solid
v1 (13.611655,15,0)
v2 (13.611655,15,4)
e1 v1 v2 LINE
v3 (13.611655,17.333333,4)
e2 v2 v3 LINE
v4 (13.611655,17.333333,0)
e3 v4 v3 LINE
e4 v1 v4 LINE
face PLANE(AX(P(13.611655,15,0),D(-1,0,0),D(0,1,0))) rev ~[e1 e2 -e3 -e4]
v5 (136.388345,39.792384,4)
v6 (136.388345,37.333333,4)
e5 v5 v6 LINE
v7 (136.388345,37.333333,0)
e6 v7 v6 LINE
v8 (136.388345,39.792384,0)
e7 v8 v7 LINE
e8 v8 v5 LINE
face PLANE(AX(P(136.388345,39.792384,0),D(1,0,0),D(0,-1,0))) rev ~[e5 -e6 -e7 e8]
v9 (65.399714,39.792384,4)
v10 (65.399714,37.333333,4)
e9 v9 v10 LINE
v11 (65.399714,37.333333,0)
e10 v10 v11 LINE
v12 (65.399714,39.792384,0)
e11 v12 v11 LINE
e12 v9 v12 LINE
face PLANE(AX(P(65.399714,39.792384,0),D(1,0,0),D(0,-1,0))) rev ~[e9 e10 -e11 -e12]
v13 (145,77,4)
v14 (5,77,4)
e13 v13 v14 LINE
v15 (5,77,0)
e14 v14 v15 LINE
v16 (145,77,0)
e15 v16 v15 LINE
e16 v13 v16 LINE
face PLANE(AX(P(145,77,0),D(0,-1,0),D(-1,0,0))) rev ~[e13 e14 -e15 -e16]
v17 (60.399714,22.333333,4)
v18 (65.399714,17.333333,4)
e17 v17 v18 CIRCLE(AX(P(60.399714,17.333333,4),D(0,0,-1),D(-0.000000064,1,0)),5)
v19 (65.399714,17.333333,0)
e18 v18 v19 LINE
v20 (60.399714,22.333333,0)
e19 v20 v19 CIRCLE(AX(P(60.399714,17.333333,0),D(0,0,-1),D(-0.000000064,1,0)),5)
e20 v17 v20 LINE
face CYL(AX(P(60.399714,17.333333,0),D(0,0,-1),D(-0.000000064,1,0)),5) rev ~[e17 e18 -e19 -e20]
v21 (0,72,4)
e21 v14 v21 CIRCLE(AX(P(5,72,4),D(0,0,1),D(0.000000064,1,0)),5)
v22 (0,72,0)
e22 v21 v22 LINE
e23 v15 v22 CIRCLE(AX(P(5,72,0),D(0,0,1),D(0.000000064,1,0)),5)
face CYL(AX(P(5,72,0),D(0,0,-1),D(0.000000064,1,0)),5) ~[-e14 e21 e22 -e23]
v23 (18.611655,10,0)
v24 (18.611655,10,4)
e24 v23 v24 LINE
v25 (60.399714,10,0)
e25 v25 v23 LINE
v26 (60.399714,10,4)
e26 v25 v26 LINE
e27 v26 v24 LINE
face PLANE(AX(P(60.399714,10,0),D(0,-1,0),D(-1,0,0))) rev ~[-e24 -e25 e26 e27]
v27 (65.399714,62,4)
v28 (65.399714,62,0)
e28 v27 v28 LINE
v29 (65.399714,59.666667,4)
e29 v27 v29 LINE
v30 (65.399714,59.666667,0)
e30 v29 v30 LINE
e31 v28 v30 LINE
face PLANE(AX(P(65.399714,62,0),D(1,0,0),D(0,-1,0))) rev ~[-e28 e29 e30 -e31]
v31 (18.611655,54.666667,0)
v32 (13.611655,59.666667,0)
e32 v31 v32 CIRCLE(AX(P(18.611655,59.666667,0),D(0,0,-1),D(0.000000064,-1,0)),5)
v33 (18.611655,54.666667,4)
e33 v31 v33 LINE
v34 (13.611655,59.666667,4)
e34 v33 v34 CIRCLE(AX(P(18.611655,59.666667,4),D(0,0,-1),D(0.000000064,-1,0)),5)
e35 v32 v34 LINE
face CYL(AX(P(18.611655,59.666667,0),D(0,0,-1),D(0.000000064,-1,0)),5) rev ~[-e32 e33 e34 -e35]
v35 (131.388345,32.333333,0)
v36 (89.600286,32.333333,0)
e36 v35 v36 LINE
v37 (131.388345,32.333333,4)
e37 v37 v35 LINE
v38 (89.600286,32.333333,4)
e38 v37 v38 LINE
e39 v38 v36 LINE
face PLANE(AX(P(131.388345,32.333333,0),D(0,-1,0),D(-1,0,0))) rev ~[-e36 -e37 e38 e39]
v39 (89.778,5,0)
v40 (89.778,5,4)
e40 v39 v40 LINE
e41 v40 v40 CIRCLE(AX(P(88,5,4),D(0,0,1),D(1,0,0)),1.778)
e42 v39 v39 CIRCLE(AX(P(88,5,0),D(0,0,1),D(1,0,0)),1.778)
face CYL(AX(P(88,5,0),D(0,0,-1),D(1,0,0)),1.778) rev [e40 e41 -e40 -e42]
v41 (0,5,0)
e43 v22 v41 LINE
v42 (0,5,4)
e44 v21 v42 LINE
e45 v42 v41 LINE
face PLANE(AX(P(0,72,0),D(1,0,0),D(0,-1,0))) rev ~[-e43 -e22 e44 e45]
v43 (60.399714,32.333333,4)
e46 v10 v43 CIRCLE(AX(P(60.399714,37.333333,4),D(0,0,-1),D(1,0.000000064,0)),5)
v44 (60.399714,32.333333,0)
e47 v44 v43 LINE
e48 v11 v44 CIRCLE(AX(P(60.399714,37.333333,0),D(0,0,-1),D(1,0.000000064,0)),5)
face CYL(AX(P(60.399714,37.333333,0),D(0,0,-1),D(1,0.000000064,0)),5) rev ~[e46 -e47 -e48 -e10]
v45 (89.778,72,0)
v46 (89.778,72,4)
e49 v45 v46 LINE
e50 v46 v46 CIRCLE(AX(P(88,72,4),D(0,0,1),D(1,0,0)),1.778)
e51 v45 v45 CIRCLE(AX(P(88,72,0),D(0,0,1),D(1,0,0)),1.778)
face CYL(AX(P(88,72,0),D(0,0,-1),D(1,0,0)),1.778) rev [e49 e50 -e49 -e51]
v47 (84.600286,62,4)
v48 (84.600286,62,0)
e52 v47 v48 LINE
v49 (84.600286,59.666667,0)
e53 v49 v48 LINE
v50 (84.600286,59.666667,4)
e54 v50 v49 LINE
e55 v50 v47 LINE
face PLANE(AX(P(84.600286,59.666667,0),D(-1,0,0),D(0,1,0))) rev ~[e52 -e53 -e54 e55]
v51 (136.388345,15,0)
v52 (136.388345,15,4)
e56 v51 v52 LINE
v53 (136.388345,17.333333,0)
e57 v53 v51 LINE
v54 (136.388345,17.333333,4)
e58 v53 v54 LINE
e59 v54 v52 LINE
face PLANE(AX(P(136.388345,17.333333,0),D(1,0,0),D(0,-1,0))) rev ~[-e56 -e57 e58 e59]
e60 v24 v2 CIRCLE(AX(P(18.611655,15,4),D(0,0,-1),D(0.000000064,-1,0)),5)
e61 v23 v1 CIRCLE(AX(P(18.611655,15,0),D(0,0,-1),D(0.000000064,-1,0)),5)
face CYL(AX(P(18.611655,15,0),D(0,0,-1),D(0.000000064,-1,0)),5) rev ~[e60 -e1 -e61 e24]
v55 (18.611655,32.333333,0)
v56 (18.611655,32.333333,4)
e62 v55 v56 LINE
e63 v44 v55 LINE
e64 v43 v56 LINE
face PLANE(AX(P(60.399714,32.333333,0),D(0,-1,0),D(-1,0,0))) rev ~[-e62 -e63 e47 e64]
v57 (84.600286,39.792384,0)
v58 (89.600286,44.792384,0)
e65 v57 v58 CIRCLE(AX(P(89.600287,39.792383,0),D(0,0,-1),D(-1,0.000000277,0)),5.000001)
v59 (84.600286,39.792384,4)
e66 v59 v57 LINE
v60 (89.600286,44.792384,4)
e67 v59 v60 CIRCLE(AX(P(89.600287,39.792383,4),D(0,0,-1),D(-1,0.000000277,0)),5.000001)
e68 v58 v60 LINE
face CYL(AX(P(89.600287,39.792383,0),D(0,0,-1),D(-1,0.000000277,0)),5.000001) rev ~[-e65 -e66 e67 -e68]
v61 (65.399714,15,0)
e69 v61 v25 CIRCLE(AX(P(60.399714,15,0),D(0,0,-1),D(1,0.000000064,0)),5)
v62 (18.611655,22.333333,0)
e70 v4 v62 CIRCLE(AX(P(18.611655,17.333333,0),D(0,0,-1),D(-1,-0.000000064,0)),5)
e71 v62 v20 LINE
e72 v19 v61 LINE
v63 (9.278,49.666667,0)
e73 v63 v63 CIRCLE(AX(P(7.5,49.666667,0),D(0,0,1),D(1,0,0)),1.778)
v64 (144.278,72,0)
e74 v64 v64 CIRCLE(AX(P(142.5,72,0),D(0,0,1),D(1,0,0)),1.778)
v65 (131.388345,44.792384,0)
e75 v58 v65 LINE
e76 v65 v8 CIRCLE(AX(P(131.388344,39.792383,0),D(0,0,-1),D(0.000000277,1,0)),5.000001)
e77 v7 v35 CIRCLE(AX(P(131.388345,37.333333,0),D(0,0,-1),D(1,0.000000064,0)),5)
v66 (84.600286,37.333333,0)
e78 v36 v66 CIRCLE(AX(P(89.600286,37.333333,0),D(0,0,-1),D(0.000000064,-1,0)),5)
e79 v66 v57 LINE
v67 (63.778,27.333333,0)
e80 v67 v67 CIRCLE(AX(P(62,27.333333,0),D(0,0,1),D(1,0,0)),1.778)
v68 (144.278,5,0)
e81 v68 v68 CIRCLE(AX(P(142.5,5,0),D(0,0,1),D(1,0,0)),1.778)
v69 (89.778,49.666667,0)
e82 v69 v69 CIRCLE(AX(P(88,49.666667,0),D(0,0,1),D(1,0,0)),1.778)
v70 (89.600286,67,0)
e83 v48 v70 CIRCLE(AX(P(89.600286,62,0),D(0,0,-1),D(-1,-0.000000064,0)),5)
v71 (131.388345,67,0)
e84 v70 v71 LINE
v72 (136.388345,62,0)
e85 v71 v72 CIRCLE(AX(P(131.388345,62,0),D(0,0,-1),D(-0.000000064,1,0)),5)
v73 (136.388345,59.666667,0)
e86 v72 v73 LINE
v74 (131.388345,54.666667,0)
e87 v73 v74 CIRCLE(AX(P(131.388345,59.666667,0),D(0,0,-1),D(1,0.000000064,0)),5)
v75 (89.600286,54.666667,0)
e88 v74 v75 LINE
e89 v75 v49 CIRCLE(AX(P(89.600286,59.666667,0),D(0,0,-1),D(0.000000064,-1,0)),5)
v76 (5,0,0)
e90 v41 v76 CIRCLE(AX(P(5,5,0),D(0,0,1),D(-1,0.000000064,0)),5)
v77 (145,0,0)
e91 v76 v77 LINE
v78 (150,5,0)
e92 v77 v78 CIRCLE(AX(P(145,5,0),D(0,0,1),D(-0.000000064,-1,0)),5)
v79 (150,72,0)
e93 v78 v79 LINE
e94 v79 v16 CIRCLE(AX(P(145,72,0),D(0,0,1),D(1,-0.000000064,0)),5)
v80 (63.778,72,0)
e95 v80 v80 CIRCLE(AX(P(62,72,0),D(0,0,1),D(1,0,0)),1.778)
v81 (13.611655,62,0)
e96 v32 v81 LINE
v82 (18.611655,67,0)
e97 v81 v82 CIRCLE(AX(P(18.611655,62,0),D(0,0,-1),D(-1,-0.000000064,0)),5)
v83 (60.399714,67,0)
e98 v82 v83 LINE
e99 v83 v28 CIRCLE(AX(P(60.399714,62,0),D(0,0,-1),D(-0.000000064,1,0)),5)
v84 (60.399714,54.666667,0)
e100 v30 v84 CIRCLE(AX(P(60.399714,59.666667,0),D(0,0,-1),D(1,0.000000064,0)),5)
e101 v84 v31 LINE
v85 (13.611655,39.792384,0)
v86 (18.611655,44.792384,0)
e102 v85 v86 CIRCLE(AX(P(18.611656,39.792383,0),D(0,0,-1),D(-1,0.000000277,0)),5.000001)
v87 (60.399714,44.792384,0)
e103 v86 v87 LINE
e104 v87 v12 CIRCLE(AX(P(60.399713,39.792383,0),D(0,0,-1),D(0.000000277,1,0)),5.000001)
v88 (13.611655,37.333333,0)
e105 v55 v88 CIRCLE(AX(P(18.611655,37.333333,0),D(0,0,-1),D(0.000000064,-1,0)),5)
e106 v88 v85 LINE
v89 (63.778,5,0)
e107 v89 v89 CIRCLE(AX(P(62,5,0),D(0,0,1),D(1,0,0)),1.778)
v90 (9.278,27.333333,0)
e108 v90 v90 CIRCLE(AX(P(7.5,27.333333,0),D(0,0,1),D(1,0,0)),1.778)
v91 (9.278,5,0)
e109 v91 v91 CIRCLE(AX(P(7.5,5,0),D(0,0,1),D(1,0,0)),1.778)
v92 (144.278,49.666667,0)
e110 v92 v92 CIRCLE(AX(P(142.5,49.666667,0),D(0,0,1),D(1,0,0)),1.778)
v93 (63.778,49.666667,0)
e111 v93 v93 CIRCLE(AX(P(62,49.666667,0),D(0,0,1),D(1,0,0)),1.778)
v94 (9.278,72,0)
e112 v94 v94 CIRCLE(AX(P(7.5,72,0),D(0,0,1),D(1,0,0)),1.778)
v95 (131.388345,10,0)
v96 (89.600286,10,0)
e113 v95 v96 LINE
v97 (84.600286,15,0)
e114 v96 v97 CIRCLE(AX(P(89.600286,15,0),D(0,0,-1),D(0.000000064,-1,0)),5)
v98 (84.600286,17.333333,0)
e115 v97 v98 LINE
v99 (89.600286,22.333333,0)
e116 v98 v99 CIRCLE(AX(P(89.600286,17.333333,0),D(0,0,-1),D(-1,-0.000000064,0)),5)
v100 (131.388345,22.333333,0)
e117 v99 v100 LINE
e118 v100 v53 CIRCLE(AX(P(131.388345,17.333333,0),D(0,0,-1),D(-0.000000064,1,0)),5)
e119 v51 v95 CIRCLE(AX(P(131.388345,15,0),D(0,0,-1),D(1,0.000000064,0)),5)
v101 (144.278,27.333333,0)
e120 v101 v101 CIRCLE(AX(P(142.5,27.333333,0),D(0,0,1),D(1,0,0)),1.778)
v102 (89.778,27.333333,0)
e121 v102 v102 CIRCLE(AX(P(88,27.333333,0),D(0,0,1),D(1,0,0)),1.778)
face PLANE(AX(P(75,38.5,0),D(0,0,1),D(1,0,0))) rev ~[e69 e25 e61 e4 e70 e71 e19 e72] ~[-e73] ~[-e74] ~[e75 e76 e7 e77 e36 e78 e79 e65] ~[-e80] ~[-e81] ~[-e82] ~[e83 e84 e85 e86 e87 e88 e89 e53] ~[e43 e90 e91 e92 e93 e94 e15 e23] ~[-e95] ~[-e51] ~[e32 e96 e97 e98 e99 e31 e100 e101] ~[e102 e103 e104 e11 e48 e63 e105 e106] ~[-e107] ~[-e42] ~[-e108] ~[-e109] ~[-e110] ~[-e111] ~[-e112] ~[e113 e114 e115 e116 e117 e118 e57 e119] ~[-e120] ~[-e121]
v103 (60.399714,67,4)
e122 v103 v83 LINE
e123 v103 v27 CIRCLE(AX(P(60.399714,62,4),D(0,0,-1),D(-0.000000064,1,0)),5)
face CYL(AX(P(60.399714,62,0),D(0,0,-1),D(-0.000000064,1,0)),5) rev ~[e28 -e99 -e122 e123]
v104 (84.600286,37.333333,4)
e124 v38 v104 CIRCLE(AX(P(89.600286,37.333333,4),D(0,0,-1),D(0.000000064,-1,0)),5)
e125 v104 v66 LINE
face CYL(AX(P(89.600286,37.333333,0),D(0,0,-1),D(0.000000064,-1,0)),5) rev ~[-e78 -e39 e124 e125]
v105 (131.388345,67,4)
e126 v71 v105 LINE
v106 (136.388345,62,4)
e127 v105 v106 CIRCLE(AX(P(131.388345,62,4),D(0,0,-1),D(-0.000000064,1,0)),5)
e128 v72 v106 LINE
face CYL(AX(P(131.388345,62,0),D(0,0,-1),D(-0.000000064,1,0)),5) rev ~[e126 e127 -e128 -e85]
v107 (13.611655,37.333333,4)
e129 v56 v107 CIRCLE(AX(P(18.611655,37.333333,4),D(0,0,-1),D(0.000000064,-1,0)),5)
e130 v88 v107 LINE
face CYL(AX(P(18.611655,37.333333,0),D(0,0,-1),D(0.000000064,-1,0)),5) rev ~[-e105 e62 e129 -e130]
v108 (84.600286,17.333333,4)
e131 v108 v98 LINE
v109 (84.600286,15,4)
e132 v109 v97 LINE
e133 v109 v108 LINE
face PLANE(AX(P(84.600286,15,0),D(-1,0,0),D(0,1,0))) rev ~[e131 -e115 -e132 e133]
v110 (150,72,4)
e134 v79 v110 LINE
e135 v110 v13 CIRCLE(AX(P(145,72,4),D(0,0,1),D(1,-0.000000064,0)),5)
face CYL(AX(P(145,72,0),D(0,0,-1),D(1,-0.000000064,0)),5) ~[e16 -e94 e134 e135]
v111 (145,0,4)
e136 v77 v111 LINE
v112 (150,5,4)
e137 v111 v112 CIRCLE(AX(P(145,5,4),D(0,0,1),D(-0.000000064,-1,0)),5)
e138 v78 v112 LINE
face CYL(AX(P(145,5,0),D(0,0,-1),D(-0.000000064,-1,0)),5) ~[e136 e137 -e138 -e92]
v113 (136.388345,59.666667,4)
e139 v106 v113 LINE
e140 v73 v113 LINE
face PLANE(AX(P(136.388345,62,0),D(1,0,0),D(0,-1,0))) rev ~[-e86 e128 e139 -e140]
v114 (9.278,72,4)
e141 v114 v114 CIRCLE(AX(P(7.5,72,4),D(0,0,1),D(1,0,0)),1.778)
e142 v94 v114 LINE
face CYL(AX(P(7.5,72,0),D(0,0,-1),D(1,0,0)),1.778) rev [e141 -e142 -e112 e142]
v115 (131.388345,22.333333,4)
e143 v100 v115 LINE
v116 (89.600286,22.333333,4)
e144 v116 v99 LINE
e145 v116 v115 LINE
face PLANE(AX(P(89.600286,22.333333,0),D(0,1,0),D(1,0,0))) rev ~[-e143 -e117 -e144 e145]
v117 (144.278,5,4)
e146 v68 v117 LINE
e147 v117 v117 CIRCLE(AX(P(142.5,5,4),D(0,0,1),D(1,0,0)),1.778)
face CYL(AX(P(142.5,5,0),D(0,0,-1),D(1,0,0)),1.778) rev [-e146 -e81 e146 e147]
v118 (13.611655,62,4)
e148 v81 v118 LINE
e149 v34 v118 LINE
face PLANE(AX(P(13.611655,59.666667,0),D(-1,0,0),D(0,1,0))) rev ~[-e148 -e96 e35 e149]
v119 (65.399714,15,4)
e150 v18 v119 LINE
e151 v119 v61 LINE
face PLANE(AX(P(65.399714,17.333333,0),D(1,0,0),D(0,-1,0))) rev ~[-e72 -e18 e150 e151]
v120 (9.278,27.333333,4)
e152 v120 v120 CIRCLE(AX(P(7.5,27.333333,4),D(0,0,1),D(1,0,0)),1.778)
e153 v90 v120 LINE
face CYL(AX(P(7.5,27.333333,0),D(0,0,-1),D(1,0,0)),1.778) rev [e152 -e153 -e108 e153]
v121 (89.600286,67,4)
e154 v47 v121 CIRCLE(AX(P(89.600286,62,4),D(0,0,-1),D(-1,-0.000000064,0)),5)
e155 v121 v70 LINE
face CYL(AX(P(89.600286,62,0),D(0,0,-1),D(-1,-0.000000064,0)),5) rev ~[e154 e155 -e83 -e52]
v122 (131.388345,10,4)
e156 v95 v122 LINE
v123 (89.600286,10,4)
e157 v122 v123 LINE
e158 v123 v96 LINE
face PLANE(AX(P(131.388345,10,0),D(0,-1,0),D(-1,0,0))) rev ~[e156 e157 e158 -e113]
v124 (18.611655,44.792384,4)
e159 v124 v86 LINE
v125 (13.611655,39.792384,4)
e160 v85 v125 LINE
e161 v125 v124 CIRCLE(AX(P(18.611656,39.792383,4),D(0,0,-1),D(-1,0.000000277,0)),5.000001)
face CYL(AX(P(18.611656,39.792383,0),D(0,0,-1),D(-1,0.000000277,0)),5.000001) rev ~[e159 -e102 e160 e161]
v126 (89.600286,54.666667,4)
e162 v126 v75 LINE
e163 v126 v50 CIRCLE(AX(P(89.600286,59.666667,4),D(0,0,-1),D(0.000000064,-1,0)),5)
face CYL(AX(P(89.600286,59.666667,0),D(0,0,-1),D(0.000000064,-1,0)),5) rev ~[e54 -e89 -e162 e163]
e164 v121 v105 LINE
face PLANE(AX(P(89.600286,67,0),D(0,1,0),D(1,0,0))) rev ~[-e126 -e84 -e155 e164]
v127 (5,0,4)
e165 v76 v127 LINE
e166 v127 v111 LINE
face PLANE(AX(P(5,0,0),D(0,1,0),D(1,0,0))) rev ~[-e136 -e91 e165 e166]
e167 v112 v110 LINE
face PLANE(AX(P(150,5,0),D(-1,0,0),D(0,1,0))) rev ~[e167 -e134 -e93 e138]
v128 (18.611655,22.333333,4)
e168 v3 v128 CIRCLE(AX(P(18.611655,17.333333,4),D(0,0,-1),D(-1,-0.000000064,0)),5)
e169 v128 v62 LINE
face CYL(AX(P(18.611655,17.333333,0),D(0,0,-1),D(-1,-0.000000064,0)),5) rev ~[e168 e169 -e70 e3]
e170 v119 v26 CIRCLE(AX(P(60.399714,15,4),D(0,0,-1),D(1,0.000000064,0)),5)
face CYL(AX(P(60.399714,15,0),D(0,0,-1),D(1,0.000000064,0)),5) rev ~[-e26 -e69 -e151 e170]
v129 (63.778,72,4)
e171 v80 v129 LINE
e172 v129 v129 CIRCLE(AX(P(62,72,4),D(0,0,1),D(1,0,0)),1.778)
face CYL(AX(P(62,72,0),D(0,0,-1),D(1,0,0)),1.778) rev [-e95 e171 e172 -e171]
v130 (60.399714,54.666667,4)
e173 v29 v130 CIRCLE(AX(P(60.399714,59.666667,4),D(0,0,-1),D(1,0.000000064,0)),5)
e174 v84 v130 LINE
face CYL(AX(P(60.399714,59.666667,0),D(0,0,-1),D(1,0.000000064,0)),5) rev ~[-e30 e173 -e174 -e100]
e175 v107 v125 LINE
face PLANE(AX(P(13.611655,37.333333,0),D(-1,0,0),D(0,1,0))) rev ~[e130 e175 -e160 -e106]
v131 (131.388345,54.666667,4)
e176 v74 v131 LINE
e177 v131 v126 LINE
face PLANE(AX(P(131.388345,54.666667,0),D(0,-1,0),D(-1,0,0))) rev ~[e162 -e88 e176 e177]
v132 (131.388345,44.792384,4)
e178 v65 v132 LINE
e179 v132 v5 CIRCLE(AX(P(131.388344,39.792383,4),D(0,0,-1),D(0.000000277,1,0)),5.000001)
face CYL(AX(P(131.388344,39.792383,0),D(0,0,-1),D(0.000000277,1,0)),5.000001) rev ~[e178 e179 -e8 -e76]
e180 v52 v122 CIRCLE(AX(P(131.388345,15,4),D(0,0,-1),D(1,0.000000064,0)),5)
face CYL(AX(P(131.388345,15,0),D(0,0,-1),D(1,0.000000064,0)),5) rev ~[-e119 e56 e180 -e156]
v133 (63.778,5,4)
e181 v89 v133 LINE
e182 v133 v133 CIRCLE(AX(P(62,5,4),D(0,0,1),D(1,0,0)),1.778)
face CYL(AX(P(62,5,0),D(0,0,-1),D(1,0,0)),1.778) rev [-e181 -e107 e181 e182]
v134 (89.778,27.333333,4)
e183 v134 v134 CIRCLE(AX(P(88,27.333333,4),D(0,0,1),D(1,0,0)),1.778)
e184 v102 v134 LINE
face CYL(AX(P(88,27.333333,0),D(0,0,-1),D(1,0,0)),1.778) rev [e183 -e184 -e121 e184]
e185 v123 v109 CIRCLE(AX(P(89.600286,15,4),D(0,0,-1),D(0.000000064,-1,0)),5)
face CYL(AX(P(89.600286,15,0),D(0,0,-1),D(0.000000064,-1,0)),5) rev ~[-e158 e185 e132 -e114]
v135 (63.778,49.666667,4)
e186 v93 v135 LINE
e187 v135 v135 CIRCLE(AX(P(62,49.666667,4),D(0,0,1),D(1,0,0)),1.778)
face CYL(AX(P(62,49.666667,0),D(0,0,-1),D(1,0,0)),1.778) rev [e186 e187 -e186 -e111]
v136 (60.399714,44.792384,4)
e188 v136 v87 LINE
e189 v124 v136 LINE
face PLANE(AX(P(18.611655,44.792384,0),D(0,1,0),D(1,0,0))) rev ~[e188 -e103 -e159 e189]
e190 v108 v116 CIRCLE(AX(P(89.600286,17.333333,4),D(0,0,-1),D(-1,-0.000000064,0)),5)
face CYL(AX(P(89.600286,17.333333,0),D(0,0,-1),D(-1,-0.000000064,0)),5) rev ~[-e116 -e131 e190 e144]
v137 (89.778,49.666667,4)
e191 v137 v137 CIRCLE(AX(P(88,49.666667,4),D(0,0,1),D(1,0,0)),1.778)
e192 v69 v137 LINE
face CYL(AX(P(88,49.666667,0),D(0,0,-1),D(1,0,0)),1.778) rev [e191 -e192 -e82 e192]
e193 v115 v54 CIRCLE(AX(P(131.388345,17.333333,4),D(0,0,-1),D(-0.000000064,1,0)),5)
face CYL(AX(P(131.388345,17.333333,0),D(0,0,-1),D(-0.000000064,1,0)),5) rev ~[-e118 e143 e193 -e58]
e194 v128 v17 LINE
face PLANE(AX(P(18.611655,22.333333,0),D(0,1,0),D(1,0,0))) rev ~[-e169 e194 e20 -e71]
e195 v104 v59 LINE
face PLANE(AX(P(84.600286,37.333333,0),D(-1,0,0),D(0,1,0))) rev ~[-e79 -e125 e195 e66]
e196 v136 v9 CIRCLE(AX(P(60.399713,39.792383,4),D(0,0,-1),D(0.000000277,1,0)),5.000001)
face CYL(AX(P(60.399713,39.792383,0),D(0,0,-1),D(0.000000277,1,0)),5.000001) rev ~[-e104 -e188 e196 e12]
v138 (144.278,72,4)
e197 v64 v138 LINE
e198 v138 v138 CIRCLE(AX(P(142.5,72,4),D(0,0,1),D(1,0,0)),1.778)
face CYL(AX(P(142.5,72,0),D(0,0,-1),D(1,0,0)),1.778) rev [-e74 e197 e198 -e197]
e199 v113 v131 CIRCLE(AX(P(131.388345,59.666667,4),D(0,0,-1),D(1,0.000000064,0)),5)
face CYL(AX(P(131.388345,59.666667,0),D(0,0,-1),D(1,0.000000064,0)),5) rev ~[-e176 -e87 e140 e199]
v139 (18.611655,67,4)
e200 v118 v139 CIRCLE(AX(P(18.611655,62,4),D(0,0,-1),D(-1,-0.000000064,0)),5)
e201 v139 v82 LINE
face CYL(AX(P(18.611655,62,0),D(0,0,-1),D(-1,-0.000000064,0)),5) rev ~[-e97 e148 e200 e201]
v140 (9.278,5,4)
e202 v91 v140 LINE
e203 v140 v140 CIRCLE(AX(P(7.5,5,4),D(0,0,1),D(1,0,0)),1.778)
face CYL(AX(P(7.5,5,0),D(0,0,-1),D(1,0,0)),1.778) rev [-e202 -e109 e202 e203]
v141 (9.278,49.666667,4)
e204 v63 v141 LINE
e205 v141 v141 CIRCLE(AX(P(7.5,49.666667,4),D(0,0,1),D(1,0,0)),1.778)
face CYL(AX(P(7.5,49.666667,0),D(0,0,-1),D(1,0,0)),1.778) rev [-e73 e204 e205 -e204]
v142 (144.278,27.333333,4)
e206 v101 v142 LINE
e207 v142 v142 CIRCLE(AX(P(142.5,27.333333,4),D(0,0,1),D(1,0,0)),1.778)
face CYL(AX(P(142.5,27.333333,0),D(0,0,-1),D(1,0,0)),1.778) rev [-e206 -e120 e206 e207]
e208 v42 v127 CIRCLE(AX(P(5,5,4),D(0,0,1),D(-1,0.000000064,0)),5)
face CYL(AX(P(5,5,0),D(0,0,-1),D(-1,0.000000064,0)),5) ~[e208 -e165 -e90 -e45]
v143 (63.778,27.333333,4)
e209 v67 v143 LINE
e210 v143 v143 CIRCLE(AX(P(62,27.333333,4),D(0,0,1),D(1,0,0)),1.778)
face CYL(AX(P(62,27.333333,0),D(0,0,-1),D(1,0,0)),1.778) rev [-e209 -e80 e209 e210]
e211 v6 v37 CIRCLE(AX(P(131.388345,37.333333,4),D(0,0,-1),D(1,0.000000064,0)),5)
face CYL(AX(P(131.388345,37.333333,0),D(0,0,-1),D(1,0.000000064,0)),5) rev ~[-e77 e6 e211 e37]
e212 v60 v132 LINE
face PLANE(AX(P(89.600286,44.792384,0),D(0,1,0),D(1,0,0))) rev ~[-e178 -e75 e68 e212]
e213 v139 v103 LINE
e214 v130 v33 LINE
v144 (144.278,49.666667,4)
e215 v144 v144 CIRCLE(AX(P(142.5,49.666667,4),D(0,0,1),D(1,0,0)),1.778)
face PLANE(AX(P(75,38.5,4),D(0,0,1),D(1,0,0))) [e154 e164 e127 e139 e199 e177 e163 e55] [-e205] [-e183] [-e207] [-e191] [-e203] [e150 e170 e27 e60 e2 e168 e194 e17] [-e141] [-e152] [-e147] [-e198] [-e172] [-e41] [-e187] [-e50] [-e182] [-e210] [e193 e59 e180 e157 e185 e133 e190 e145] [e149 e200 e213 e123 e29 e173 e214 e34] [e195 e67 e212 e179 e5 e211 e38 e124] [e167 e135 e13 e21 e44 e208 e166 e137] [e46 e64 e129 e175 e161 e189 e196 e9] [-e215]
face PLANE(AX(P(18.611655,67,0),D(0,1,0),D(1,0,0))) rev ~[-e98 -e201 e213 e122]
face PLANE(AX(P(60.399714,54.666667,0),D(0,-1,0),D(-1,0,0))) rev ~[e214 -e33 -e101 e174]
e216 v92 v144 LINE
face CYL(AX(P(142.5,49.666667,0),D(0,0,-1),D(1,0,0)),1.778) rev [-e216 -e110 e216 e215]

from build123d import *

# Parameters (mm, degrees)
F0_R     = 1.778
F1_DEPTH = 3.5
F2_DEPTH = 4


with BuildPart() as f1:
    # F0 (on Top) → F1 (new body)
    with BuildSketch(Plane.XY):
        with BuildLine():
            ThreePointArc((0, 5), (1.464466, 1.464466), (5, 0))
            Line((5, 0), (75, 0))
            Line((75, 0), (145, 0))
            ThreePointArc((145, 0), (148.535534, 1.464466), (150, 5))
            Line((150, 5), (150, 10))
            Line((150, 10), (150, 22.333333))
            Line((150, 22.333333), (150, 32.333333))
            Line((150, 32.333333), (150, 44.666667))
            Line((150, 44.666667), (150, 44.792384))
            Line((150, 44.792384), (150, 54.666667))
            Line((150, 54.666667), (150, 67))
            Line((150, 67), (150, 72))
            ThreePointArc((150, 72), (148.535534, 75.535534), (145, 77))
            Line((145, 77), (75, 77))
            Line((75, 77), (5, 77))
            ThreePointArc((5, 77), (1.464466, 75.535534), (0, 72))
            Line((0, 72), (0, 67))
            Line((0, 67), (0, 54.666667))
            Line((0, 54.666667), (0, 44.792384))
            Line((0, 44.792384), (0, 44.666667))
            Line((0, 44.666667), (0, 32.333333))
            Line((0, 32.333333), (0, 22.333333))
            Line((0, 22.333333), (0, 10))
            Line((0, 10), (0, 5))
        make_face()
        with Locations((7.5, 5)):
            Circle(F0_R, mode=Mode.SUBTRACT)
        with Locations((62, 5)):
            Circle(F0_R, mode=Mode.SUBTRACT)
        with BuildLine():
            Line((60.399714, 10), (18.611655, 10))
            ThreePointArc((18.611655, 10), (15.076121, 11.464466), (13.611655, 15))
            Line((13.611655, 15), (13.611655, 17.333333))
            ThreePointArc((13.611655, 17.333333), (15.076121, 20.868867), (18.611655, 22.333333))
            Line((18.611655, 22.333333), (60.399714, 22.333333))
            ThreePointArc((60.399714, 22.333333), (63.935248, 20.868867), (65.399714, 17.333333))
            Line((65.399714, 17.333333), (65.399714, 15))
            ThreePointArc((65.399714, 15), (63.935248, 11.464466), (60.399714, 10))
        make_face(mode=Mode.SUBTRACT)
        with Locations((7.5, 27.333333)):
            Circle(F0_R, mode=Mode.SUBTRACT)
        with Locations((62, 27.333333)):
            Circle(F0_R, mode=Mode.SUBTRACT)
        with Locations((88, 5)):
            Circle(F0_R, mode=Mode.SUBTRACT)
        with BuildLine():
            ThreePointArc((131.388345, 22.333333), (134.923879, 20.868867), (136.388345, 17.333333))
            Line((136.388345, 17.333333), (136.388345, 15))
            ThreePointArc((136.388345, 15), (134.923879, 11.464466), (131.388345, 10))
            Line((131.388345, 10), (89.600286, 10))
            ThreePointArc((89.600286, 10), (86.064752, 11.464466), (84.600286, 15))
            Line((84.600286, 15), (84.600286, 17.333333))
            ThreePointArc((84.600286, 17.333333), (86.064752, 20.868867), (89.600286, 22.333333))
            Line((89.600286, 22.333333), (131.388345, 22.333333))
        make_face(mode=Mode.SUBTRACT)
        with Locations((142.5, 5)):
            Circle(F0_R, mode=Mode.SUBTRACT)
        with Locations((88, 27.333333)):
            Circle(F0_R, mode=Mode.SUBTRACT)
        with Locations((142.5, 27.333333)):
            Circle(F0_R, mode=Mode.SUBTRACT)
        with Locations((7.5, 49.666667)):
            Circle(F0_R, mode=Mode.SUBTRACT)
        with BuildLine():
            Line((60.399714, 32.333333), (18.611655, 32.333333))
            ThreePointArc((18.611655, 32.333333), (15.076121, 33.797799), (13.611655, 37.333333))
            Line((13.611655, 37.333333), (13.611655, 39.792384))
            ThreePointArc((13.611655, 39.792384), (15.076121, 43.327917), (18.611655, 44.792384))
            Line((18.611655, 44.792384), (60.399714, 44.792384))
            ThreePointArc((60.399714, 44.792384), (63.935248, 43.327917), (65.399714, 39.792384))
            Line((65.399714, 39.792384), (65.399714, 37.333333))
            ThreePointArc((65.399714, 37.333333), (63.935248, 33.797799), (60.399714, 32.333333))
        make_face(mode=Mode.SUBTRACT)
        with Locations((62, 49.666667)):
            Circle(F0_R, mode=Mode.SUBTRACT)
        with Locations((7.5, 72)):
            Circle(F0_R, mode=Mode.SUBTRACT)
        with BuildLine():
            Line((60.399714, 54.666667), (18.611655, 54.666667))
            ThreePointArc((18.611655, 54.666667), (15.076121, 56.131133), (13.611655, 59.666667))
            Line((13.611655, 59.666667), (13.611655, 62))
            ThreePointArc((13.611655, 62), (15.076121, 65.535534), (18.611655, 67))
            Line((18.611655, 67), (60.399714, 67))
            ThreePointArc((60.399714, 67), (63.935248, 65.535534), (65.399714, 62))
            Line((65.399714, 62), (65.399714, 59.666667))
            ThreePointArc((65.399714, 59.666667), (63.935248, 56.131133), (60.399714, 54.666667))
        make_face(mode=Mode.SUBTRACT)
        with Locations((62, 72)):
            Circle(F0_R, mode=Mode.SUBTRACT)
        with BuildLine():
            Line((89.600286, 44.792384), (131.388345, 44.792384))
            ThreePointArc((131.388345, 44.792384), (134.923879, 43.327917), (136.388345, 39.792384))
            Line((136.388345, 39.792384), (136.388345, 37.333333))
            ThreePointArc((136.388345, 37.333333), (134.923879, 33.797799), (131.388345, 32.333333))
            Line((131.388345, 32.333333), (89.600286, 32.333333))
            ThreePointArc((89.600286, 32.333333), (86.064752, 33.797799), (84.600286, 37.333333))
            Line((84.600286, 37.333333), (84.600286, 39.792384))
            ThreePointArc((84.600286, 39.792384), (86.064752, 43.327917), (89.600286, 44.792384))
        make_face(mode=Mode.SUBTRACT)
        with Locations((88, 49.666667)):
            Circle(F0_R, mode=Mode.SUBTRACT)
        with Locations((142.5, 49.666667)):
            Circle(F0_R, mode=Mode.SUBTRACT)
        with BuildLine():
            ThreePointArc((131.388345, 67), (134.923879, 65.535534), (136.388345, 62))
            Line((136.388345, 62), (136.388345, 59.666667))
            ThreePointArc((136.388345, 59.666667), (134.923879, 56.131133), (131.388345, 54.666667))
            Line((131.388345, 54.666667), (89.600286, 54.666667))
            ThreePointArc((89.600286, 54.666667), (86.064752, 56.131133), (84.600286, 59.666667))
            Line((84.600286, 59.666667), (84.600286, 62))
            ThreePointArc((84.600286, 62), (86.064752, 65.535534), (89.600286, 67))
            Line((89.600286, 67), (131.388345, 67))
        make_face(mode=Mode.SUBTRACT)
        with Locations((88, 72)):
            Circle(F0_R, mode=Mode.SUBTRACT)
        with Locations((142.5, 72)):
            Circle(F0_R, mode=Mode.SUBTRACT)
    extrude(amount=F1_DEPTH)

    # F0 (on Top) → F2 (join)
    with BuildSketch(Plane.XY):
        with BuildLine():
            ThreePointArc((0, 5), (1.464466, 1.464466), (5, 0))
            Line((5, 0), (75, 0))
            Line((75, 0), (145, 0))
            ThreePointArc((145, 0), (148.535534, 1.464466), (150, 5))
            Line((150, 5), (150, 10))
            Line((150, 10), (150, 22.333333))
            Line((150, 22.333333), (150, 32.333333))
            Line((150, 32.333333), (150, 44.666667))
            Line((150, 44.666667), (150, 44.792384))
            Line((150, 44.792384), (150, 54.666667))
            Line((150, 54.666667), (150, 67))
            Line((150, 67), (150, 72))
            ThreePointArc((150, 72), (148.535534, 75.535534), (145, 77))
            Line((145, 77), (75, 77))
            Line((75, 77), (5, 77))
            ThreePointArc((5, 77), (1.464466, 75.535534), (0, 72))
            Line((0, 72), (0, 67))
            Line((0, 67), (0, 54.666667))
            Line((0, 54.666667), (0, 44.792384))
            Line((0, 44.792384), (0, 44.666667))
            Line((0, 44.666667), (0, 32.333333))
            Line((0, 32.333333), (0, 22.333333))
            Line((0, 22.333333), (0, 10))
            Line((0, 10), (0, 5))
        make_face()
        with Locations((7.5, 5)):
            Circle(F0_R, mode=Mode.SUBTRACT)
        with Locations((62, 5)):
            Circle(F0_R, mode=Mode.SUBTRACT)
        with BuildLine():
            Line((60.399714, 10), (18.611655, 10))
            ThreePointArc((18.611655, 10), (15.076121, 11.464466), (13.611655, 15))
            Line((13.611655, 15), (13.611655, 17.333333))
            ThreePointArc((13.611655, 17.333333), (15.076121, 20.868867), (18.611655, 22.333333))
            Line((18.611655, 22.333333), (60.399714, 22.333333))
            ThreePointArc((60.399714, 22.333333), (63.935248, 20.868867), (65.399714, 17.333333))
            Line((65.399714, 17.333333), (65.399714, 15))
            ThreePointArc((65.399714, 15), (63.935248, 11.464466), (60.399714, 10))
        make_face(mode=Mode.SUBTRACT)
        with Locations((7.5, 27.333333)):
            Circle(F0_R, mode=Mode.SUBTRACT)
        with Locations((62, 27.333333)):
            Circle(F0_R, mode=Mode.SUBTRACT)
        with Locations((88, 5)):
            Circle(F0_R, mode=Mode.SUBTRACT)
        with BuildLine():
            ThreePointArc((131.388345, 22.333333), (134.923879, 20.868867), (136.388345, 17.333333))
            Line((136.388345, 17.333333), (136.388345, 15))
            ThreePointArc((136.388345, 15), (134.923879, 11.464466), (131.388345, 10))
            Line((131.388345, 10), (89.600286, 10))
            ThreePointArc((89.600286, 10), (86.064752, 11.464466), (84.600286, 15))
            Line((84.600286, 15), (84.600286, 17.333333))
            ThreePointArc((84.600286, 17.333333), (86.064752, 20.868867), (89.600286, 22.333333))
            Line((89.600286, 22.333333), (131.388345, 22.333333))
        make_face(mode=Mode.SUBTRACT)
        with Locations((142.5, 5)):
            Circle(F0_R, mode=Mode.SUBTRACT)
        with Locations((88, 27.333333)):
            Circle(F0_R, mode=Mode.SUBTRACT)
        with Locations((142.5, 27.333333)):
            Circle(F0_R, mode=Mode.SUBTRACT)
        with Locations((7.5, 49.666667)):
            Circle(F0_R, mode=Mode.SUBTRACT)
        with BuildLine():
            Line((60.399714, 32.333333), (18.611655, 32.333333))
            ThreePointArc((18.611655, 32.333333), (15.076121, 33.797799), (13.611655, 37.333333))
            Line((13.611655, 37.333333), (13.611655, 39.792384))
            ThreePointArc((13.611655, 39.792384), (15.076121, 43.327917), (18.611655, 44.792384))
            Line((18.611655, 44.792384), (60.399714, 44.792384))
            ThreePointArc((60.399714, 44.792384), (63.935248, 43.327917), (65.399714, 39.792384))
            Line((65.399714, 39.792384), (65.399714, 37.333333))
            ThreePointArc((65.399714, 37.333333), (63.935248, 33.797799), (60.399714, 32.333333))
        make_face(mode=Mode.SUBTRACT)
        with Locations((62, 49.666667)):
            Circle(F0_R, mode=Mode.SUBTRACT)
        with Locations((7.5, 72)):
            Circle(F0_R, mode=Mode.SUBTRACT)
        with BuildLine():
            Line((60.399714, 54.666667), (18.611655, 54.666667))
            ThreePointArc((18.611655, 54.666667), (15.076121, 56.131133), (13.611655, 59.666667))
            Line((13.611655, 59.666667), (13.611655, 62))
            ThreePointArc((13.611655, 62), (15.076121, 65.535534), (18.611655, 67))
            Line((18.611655, 67), (60.399714, 67))
            ThreePointArc((60.399714, 67), (63.935248, 65.535534), (65.399714, 62))
            Line((65.399714, 62), (65.399714, 59.666667))
            ThreePointArc((65.399714, 59.666667), (63.935248, 56.131133), (60.399714, 54.666667))
        make_face(mode=Mode.SUBTRACT)
        with Locations((62, 72)):
            Circle(F0_R, mode=Mode.SUBTRACT)
        with BuildLine():
            Line((89.600286, 44.792384), (131.388345, 44.792384))
            ThreePointArc((131.388345, 44.792384), (134.923879, 43.327917), (136.388345, 39.792384))
            Line((136.388345, 39.792384), (136.388345, 37.333333))
            ThreePointArc((136.388345, 37.333333), (134.923879, 33.797799), (131.388345, 32.333333))
            Line((131.388345, 32.333333), (89.600286, 32.333333))
            ThreePointArc((89.600286, 32.333333), (86.064752, 33.797799), (84.600286, 37.333333))
            Line((84.600286, 37.333333), (84.600286, 39.792384))
            ThreePointArc((84.600286, 39.792384), (86.064752, 43.327917), (89.600286, 44.792384))
        make_face(mode=Mode.SUBTRACT)
        with Locations((88, 49.666667)):
            Circle(F0_R, mode=Mode.SUBTRACT)
        with Locations((142.5, 49.666667)):
            Circle(F0_R, mode=Mode.SUBTRACT)
        with BuildLine():
            ThreePointArc((131.388345, 67), (134.923879, 65.535534), (136.388345, 62))
            Line((136.388345, 62), (136.388345, 59.666667))
            ThreePointArc((136.388345, 59.666667), (134.923879, 56.131133), (131.388345, 54.666667))
            Line((131.388345, 54.666667), (89.600286, 54.666667))
            ThreePointArc((89.600286, 54.666667), (86.064752, 56.131133), (84.600286, 59.666667))
            Line((84.600286, 59.666667), (84.600286, 62))
            ThreePointArc((84.600286, 62), (86.064752, 65.535534), (89.600286, 67))
            Line((89.600286, 67), (131.388345, 67))
        make_face(mode=Mode.SUBTRACT)
        with Locations((88, 72)):
            Circle(F0_R, mode=Mode.SUBTRACT)
        with Locations((142.5, 72)):
            Circle(F0_R, mode=Mode.SUBTRACT)
    extrude(amount=F2_DEPTH)


solid = f1.part
